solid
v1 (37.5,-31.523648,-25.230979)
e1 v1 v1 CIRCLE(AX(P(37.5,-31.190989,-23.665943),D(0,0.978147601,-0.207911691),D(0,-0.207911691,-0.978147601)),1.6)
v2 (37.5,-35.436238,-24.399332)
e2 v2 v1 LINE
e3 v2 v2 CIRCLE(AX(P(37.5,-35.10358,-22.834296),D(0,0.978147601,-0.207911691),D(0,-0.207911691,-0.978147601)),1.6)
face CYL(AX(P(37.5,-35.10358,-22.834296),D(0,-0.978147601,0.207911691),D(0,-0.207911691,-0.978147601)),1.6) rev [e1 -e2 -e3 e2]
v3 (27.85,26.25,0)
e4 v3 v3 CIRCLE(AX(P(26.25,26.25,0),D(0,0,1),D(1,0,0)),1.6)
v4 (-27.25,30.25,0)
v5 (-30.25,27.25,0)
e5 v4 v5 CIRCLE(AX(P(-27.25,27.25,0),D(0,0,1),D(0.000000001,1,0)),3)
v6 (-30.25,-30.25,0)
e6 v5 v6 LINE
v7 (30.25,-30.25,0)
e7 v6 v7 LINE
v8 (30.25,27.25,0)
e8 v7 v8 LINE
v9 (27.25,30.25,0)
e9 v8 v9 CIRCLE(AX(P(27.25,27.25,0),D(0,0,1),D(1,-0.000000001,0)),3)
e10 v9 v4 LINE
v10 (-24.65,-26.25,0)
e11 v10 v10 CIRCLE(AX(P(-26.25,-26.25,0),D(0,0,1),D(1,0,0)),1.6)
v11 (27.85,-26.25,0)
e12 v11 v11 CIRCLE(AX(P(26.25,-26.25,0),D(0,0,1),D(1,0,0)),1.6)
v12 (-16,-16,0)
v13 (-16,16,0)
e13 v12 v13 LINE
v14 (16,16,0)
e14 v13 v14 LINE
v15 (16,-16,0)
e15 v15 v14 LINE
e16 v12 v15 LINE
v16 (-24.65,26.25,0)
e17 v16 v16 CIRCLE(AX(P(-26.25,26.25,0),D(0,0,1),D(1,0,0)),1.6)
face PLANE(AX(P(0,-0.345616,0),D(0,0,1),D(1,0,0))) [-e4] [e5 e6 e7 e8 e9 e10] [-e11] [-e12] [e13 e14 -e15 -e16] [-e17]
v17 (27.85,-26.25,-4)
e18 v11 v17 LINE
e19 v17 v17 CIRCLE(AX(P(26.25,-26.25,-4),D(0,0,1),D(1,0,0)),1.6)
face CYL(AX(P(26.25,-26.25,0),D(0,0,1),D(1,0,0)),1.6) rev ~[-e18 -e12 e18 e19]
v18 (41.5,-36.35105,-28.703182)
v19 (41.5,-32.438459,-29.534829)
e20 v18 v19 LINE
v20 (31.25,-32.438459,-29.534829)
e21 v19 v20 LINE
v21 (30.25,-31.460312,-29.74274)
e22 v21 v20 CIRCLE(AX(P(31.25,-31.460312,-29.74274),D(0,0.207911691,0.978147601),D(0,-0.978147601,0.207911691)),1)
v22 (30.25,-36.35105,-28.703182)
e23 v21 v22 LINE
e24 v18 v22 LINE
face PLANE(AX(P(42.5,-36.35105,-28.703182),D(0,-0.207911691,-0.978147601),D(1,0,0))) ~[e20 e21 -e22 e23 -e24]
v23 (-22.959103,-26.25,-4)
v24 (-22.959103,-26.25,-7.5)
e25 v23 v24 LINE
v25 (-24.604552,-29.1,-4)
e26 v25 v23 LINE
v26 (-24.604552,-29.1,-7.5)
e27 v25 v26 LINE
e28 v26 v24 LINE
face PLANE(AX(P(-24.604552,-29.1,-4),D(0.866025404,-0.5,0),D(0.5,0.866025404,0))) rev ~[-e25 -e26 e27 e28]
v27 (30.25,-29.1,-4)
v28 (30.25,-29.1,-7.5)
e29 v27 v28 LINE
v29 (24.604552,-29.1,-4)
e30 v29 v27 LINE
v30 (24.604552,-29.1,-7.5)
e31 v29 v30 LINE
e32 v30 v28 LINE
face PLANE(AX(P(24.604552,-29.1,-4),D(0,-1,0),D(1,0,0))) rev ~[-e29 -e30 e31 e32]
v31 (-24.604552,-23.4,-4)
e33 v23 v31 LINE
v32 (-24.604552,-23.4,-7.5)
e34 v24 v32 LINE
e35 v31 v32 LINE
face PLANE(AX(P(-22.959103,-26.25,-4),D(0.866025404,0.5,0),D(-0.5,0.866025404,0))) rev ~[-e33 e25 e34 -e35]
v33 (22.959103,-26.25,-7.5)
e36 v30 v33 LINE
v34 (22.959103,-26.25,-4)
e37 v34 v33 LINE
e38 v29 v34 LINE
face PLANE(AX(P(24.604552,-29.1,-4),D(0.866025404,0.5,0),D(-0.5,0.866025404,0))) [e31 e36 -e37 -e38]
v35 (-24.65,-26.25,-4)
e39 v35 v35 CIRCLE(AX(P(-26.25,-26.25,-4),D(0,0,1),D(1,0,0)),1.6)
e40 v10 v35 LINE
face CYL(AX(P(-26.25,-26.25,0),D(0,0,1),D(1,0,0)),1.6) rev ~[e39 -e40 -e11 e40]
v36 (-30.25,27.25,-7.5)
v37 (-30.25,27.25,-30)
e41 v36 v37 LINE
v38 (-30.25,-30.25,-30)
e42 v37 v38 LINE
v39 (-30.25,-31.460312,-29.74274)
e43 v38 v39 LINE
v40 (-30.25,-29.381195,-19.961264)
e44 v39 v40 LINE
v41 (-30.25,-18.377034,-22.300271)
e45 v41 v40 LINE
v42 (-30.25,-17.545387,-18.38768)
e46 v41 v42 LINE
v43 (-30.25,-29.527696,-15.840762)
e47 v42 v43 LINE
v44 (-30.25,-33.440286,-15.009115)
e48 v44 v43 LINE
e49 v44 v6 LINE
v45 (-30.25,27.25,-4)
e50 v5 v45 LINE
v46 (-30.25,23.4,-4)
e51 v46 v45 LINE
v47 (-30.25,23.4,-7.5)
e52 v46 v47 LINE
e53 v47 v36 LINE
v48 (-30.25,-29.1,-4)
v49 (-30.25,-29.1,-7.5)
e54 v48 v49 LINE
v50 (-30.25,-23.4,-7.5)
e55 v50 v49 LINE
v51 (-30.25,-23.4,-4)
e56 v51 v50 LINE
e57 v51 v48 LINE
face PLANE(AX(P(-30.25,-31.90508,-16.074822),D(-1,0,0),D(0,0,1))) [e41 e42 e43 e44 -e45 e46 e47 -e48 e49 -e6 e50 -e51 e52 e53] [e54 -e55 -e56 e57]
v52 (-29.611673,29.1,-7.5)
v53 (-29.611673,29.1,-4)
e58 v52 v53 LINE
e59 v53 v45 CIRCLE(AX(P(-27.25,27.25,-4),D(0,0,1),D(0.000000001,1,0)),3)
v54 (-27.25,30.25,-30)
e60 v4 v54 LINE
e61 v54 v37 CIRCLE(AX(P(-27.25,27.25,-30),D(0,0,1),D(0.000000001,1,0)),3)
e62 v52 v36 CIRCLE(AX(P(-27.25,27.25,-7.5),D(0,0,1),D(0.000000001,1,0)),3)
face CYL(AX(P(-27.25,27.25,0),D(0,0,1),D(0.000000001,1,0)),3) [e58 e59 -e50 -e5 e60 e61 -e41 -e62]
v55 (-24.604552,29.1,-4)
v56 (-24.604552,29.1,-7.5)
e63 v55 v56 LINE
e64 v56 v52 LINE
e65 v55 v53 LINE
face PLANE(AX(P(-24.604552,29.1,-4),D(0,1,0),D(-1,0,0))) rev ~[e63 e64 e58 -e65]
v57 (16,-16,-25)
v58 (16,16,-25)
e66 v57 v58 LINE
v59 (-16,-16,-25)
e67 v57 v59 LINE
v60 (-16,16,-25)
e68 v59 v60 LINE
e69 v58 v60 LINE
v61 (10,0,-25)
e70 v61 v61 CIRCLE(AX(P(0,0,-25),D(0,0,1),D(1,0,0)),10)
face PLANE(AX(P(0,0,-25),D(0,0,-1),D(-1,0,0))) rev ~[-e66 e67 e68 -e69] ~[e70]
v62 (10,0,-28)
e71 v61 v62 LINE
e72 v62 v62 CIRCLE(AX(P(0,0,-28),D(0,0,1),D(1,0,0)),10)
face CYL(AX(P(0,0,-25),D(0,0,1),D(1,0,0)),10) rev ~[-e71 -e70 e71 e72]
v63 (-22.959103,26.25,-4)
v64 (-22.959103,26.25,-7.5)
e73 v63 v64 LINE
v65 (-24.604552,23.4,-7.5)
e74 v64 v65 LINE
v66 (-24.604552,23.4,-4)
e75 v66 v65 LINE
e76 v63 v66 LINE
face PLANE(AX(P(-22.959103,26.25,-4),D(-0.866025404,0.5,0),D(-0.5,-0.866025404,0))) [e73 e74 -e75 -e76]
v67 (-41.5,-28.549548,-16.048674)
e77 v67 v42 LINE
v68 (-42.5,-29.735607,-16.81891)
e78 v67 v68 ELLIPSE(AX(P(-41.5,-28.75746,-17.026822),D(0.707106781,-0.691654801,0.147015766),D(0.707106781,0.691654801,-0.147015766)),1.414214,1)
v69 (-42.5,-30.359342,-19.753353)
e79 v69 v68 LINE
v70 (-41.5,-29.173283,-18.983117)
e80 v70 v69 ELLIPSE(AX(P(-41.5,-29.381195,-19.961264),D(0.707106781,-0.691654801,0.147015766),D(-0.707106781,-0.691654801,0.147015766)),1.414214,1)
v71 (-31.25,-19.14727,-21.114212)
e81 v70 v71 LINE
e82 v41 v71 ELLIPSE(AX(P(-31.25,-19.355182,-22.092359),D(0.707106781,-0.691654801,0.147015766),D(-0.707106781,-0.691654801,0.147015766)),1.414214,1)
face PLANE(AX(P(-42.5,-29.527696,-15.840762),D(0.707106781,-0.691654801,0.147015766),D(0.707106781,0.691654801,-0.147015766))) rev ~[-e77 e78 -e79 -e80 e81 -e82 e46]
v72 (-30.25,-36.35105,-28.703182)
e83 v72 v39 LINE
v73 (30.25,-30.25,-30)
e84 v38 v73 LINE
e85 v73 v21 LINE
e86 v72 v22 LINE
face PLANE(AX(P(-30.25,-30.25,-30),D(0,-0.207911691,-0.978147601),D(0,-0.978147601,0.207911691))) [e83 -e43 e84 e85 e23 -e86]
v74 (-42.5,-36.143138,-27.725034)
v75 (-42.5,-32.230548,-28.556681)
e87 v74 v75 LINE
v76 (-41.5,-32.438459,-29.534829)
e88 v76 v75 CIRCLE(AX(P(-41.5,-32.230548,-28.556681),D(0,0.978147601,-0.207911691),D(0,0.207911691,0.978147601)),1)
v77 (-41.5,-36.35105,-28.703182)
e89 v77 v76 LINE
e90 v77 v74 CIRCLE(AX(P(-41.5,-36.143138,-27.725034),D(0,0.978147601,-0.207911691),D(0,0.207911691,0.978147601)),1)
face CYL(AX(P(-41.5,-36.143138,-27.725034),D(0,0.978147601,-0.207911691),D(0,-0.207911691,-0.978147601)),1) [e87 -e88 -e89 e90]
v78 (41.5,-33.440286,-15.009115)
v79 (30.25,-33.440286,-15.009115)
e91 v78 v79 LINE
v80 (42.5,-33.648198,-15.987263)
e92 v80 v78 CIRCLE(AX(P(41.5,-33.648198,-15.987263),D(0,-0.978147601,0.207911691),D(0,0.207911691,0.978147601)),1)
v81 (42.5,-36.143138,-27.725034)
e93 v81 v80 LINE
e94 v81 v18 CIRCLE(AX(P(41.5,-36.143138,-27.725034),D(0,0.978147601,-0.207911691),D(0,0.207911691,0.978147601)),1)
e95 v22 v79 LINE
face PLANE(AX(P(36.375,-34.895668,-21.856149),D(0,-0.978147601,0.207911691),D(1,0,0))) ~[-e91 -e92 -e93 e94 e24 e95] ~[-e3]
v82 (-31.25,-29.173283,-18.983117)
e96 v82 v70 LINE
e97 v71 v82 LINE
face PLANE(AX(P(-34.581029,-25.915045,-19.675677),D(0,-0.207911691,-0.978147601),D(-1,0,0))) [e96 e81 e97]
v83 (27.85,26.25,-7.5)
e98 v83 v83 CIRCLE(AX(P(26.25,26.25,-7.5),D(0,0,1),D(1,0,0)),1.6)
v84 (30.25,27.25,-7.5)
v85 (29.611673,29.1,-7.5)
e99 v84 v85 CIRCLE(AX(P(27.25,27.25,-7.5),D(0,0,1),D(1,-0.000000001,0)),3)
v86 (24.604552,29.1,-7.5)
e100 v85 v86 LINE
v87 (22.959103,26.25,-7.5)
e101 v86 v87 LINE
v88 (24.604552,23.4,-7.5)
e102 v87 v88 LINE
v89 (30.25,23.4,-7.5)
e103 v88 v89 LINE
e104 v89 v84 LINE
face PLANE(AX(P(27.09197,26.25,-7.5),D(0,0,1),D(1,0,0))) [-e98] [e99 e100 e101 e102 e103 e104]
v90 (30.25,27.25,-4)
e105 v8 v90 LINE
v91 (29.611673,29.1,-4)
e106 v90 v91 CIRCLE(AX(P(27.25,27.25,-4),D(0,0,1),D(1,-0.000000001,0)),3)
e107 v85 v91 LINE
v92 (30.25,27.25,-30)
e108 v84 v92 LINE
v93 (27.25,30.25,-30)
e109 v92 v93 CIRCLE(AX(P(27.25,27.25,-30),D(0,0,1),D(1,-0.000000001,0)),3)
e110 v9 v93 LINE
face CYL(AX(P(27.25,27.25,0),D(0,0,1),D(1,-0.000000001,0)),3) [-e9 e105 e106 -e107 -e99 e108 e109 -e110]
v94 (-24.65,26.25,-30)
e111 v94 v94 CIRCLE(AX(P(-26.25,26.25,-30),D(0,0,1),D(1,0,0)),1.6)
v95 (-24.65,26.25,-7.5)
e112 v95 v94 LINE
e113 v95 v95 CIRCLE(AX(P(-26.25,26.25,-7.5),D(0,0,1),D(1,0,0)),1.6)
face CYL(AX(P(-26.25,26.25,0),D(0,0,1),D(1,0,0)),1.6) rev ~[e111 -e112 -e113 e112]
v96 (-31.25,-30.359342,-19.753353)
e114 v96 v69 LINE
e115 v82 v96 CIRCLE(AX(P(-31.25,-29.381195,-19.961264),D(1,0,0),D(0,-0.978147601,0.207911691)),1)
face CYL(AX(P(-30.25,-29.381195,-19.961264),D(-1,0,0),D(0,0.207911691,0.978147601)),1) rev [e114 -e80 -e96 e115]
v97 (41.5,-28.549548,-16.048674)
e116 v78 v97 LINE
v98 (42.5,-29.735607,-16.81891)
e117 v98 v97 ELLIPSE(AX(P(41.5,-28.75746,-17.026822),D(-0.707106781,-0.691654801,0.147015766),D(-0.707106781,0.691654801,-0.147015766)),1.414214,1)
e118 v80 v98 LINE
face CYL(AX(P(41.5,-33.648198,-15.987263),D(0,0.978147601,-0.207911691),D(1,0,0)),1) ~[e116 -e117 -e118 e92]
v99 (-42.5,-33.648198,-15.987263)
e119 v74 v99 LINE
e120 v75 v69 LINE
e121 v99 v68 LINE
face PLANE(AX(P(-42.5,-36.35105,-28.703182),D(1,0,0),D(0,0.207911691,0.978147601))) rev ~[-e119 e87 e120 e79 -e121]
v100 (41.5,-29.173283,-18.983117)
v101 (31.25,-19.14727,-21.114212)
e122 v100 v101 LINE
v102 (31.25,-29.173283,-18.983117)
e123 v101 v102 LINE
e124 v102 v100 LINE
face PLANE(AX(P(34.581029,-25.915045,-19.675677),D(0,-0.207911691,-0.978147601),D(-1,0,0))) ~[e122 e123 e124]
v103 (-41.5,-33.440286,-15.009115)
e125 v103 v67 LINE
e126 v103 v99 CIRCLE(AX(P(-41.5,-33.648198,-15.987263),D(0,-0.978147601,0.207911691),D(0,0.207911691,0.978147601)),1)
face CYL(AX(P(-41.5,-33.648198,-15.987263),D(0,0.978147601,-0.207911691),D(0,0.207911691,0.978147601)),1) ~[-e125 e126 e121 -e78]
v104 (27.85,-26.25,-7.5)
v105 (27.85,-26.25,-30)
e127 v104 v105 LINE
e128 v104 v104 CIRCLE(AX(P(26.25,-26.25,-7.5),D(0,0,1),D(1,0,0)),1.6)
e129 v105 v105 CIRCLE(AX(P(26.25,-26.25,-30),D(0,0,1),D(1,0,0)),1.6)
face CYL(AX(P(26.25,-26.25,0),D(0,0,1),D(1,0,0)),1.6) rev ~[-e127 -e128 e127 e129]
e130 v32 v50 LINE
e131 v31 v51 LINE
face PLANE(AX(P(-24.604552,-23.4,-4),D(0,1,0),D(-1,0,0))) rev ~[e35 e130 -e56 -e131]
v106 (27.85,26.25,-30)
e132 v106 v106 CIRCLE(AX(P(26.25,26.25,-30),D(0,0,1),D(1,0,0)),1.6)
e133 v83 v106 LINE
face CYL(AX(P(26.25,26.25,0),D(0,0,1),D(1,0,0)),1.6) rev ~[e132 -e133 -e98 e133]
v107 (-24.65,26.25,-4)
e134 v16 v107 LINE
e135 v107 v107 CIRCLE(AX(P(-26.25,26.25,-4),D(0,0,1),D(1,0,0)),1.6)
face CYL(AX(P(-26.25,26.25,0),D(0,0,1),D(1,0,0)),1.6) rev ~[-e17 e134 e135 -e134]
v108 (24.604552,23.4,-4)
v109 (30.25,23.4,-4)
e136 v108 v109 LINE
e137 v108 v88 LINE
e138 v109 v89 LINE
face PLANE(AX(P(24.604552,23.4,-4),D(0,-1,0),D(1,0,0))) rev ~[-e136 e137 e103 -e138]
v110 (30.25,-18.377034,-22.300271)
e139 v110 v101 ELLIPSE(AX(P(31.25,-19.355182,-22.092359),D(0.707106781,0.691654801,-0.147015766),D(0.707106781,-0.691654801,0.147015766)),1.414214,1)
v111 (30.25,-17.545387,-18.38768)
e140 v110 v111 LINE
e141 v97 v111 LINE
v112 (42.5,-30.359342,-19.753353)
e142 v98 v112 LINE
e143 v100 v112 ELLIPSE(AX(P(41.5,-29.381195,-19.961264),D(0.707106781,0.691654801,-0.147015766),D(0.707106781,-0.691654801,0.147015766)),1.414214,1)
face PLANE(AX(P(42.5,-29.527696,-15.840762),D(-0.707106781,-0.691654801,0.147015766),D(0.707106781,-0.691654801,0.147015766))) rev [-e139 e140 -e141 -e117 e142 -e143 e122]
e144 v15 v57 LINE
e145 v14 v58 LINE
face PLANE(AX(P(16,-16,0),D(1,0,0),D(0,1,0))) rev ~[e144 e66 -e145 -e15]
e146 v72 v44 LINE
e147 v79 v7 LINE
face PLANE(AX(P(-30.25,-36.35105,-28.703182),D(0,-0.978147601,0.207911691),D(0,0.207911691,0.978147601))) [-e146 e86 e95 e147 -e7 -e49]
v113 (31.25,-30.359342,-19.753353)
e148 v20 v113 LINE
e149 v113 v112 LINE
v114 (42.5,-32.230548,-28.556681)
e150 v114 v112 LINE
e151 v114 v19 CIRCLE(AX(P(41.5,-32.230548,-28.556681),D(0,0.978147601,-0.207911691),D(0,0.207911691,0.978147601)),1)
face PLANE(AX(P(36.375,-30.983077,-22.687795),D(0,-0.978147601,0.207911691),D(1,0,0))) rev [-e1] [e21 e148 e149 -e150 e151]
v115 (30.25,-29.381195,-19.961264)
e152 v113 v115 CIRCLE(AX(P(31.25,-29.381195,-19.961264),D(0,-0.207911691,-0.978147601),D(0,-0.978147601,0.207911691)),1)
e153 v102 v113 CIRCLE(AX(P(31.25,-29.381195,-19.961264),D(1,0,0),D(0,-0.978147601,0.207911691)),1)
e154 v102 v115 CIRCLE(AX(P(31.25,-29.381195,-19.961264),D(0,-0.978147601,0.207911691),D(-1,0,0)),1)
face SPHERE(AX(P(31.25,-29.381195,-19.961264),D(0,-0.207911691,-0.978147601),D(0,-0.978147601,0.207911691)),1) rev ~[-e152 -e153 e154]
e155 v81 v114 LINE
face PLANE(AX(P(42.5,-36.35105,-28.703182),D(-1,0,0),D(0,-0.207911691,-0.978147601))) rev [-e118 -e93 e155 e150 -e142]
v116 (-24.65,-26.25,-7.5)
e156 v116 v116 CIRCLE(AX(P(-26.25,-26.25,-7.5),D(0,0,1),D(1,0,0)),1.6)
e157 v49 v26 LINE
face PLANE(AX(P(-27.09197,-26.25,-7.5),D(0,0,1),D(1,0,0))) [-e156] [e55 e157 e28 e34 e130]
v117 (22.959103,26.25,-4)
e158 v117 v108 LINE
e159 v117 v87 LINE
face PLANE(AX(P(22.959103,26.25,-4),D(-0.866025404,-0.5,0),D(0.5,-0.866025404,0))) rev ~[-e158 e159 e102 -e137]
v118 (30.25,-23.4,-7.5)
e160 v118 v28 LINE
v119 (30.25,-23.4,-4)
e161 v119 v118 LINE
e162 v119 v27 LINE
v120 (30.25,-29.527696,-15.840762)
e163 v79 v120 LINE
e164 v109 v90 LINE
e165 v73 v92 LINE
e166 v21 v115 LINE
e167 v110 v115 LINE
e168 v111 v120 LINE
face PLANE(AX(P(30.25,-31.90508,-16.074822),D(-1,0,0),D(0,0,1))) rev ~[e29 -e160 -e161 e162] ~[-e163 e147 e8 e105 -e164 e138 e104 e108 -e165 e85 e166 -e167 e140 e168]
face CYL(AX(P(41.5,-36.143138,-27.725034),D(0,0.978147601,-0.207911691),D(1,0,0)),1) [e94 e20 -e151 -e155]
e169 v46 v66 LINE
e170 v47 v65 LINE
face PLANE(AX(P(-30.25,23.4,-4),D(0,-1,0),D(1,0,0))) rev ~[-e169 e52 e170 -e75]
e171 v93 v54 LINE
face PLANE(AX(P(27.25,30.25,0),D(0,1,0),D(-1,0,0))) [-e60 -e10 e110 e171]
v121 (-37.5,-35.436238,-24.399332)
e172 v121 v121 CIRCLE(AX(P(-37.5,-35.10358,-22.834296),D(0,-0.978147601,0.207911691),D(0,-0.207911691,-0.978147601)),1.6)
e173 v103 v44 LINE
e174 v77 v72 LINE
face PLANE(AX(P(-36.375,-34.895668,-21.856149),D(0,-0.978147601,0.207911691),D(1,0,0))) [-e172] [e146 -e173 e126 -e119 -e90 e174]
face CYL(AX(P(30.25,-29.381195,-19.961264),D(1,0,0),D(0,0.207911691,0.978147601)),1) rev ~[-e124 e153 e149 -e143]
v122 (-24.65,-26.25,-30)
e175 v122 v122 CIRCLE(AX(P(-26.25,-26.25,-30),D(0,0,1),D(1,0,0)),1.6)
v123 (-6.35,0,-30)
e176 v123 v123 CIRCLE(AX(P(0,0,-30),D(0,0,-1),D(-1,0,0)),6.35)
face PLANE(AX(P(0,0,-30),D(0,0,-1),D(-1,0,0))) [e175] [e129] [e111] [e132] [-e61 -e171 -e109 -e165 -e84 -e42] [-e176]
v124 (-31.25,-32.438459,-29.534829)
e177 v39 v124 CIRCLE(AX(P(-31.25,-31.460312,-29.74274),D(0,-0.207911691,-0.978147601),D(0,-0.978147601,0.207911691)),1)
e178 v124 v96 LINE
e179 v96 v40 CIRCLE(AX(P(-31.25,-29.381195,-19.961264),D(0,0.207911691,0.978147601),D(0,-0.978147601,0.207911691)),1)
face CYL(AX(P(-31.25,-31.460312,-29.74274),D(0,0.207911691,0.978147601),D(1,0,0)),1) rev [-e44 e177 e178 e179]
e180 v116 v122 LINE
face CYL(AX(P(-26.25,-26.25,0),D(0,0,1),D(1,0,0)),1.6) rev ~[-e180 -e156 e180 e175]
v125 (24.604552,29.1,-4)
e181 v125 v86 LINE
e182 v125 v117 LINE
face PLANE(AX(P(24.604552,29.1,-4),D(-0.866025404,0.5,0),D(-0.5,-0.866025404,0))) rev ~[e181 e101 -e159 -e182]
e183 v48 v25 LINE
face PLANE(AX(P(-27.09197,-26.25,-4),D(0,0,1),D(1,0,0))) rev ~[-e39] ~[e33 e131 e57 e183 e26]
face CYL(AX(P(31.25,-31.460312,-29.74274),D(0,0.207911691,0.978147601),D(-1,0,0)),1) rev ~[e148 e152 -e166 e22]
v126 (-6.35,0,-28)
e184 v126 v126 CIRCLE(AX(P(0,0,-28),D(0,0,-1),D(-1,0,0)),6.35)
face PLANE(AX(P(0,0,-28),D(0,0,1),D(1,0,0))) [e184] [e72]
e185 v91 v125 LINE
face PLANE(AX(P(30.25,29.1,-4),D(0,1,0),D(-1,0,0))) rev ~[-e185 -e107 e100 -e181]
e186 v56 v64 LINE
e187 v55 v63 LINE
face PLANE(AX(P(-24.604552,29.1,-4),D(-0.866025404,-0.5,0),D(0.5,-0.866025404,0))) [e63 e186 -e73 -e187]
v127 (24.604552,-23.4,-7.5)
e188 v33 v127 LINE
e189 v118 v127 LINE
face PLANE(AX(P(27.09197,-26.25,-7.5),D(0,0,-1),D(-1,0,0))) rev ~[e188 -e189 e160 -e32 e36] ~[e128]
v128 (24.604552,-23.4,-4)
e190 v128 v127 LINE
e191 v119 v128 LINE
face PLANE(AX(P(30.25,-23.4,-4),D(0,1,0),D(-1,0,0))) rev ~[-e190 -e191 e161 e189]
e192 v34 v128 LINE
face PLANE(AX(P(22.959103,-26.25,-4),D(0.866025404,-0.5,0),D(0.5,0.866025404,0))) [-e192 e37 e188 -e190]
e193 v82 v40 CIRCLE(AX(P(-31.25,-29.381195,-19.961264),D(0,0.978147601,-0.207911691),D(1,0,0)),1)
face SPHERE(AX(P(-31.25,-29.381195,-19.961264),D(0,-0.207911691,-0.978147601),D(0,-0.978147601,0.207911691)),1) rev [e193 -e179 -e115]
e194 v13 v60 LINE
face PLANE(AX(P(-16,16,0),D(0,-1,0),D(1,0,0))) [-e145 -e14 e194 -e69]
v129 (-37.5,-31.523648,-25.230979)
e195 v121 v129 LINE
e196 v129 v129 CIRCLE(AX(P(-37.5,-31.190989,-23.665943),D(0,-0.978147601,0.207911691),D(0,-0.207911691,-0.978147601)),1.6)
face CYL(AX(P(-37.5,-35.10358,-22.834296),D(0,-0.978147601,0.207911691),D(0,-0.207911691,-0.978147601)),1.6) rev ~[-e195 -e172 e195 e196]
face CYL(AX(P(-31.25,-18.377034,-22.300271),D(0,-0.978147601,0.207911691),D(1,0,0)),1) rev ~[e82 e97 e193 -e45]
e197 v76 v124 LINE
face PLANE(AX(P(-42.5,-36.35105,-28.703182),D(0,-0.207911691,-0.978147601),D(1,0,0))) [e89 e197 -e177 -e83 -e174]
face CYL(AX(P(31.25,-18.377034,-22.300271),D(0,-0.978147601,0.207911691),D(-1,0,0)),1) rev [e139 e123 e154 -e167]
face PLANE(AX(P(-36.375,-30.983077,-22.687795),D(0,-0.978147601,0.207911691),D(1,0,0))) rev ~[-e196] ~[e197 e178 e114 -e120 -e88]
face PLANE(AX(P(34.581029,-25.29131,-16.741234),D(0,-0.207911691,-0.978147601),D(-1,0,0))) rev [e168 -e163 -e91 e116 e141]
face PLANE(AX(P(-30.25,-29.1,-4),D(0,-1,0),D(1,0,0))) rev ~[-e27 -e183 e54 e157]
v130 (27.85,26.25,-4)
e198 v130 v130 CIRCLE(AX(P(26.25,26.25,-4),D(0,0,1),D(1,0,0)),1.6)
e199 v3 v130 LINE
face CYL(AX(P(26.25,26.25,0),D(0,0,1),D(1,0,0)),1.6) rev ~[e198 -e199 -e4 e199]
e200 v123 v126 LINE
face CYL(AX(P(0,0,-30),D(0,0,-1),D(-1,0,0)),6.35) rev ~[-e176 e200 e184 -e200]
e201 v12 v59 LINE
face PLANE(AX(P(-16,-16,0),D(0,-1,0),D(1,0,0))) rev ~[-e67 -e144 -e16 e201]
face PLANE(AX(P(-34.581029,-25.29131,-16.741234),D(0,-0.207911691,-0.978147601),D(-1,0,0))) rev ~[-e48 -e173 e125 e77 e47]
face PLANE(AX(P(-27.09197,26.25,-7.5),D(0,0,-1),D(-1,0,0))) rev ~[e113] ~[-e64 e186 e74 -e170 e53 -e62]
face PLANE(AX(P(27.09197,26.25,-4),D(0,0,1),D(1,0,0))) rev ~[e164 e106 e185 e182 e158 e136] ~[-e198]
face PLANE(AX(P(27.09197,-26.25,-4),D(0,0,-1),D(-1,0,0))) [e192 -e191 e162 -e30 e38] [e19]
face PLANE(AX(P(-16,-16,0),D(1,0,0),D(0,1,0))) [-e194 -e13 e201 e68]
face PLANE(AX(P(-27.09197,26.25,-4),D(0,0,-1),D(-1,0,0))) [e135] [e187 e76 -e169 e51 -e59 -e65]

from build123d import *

# Parameters (mm, degrees)
SKETCH_1_R          = 1.6
SKETCH_1_W          = 32
SKETCH_1_H          = 32
EXTRUDE_1_DEPTH     = 30
SKETCH_3_W          = 32
SKETCH_3_H          = 32
EXTRUDE_2_DEPTH     = 5
SKETCH_4_R          = 6.35
CUT_EXTRUDE_1_DEPTH = 53.250598083
SKETCH_5_R          = 10
CUT_EXTRUDE_2_DEPTH = 3
CUT_EXTRUDE_3_DEPTH = 3.5
EXTRUDE_3_DEPTH     = 60.5
SKETCH_14_W         = 12.25
SKETCH_14_H         = 14
SKETCH_14_R         = 1.6
EXTRUDE_4_DEPTH     = 4
EXTRUDE_5_DEPTH     = 3
FILLET_1_R          = 1


with BuildPart() as part:
    # ｽｹｯﾁ1 → ﾎﾞｽ - 押し出し1 (new body)
    with BuildSketch(Plane.XY):
        with BuildLine():
            Line((30.25, -30.25), (30.25, 27.25))
            ThreePointArc((30.25, 27.25), (29.371320344, 29.371320344), (27.25, 30.25))
            Line((27.25, 30.25), (-27.25, 30.25))
            ThreePointArc((-27.25, 30.25), (-29.371320344, 29.371320344), (-30.25, 27.25))
            Line((-30.25, 27.25), (-30.25, -30.25))
            Line((-30.25, -30.25), (30.25, -30.25))
        make_face()
        with Locations((-26.25, 26.25)):
            Circle(SKETCH_1_R, mode=Mode.SUBTRACT)
        with Locations((-26.25, -26.25)):
            Circle(SKETCH_1_R, mode=Mode.SUBTRACT)
        with Locations((26.25, -26.25)):
            Circle(SKETCH_1_R, mode=Mode.SUBTRACT)
        with Locations((26.25, 26.25)):
            Circle(SKETCH_1_R, mode=Mode.SUBTRACT)
        Rectangle(SKETCH_1_W, SKETCH_1_H, mode=Mode.SUBTRACT)
    extrude(amount=-EXTRUDE_1_DEPTH)

    # ｽｹｯﾁ3 → ﾎﾞｽ - 押し出し2 (add)
    with BuildSketch(Plane(origin=(0, 0, -30), x_dir=(-1, 0, 0), z_dir=(0, 0, -1))):
        Rectangle(SKETCH_3_W, SKETCH_3_H)
    extrude(amount=-EXTRUDE_2_DEPTH)

    # ｽｹｯﾁ4 → ｶｯﾄ - 押し出し1 (cut, through all)
    with BuildSketch(Plane(origin=(0, 0, -30), x_dir=(-1, 0, 0), z_dir=(0, 0, -1))):
        Circle(SKETCH_4_R)
    extrude(amount=-CUT_EXTRUDE_1_DEPTH, mode=Mode.SUBTRACT)

    # ｽｹｯﾁ5 → ｶｯﾄ - 押し出し2 (cut)
    with BuildSketch(Plane.XY.offset(-25)):
        Circle(SKETCH_5_R)
    extrude(amount=-CUT_EXTRUDE_2_DEPTH, mode=Mode.SUBTRACT)

    # ｽｹｯﾁ10 → ｶｯﾄ - 押し出し3 (cut)
    with BuildSketch(Plane.XY.offset(-4)):
        Polygon((27.895448267, -23.4), (30.25, -23.4), (30.25, -29.1), (27.895448267, -29.1), (24.604551733, -29.1), (22.959103466, -26.25), (24.604551733, -23.4), align=None)
        Polygon((-30.25, -29.1), (-27.895448267, -29.1), (-24.604551733, -29.1), (-22.959103466, -26.25), (-24.604551733, -23.4), (-27.895448267, -23.4), (-30.25, -23.4), align=None)
        Polygon((-27.895448267, 23.4), (-30.25, 23.4), (-30.25, 29.1), (-27.895448267, 29.1), (-24.604551733, 29.1), (-22.959103466, 26.25), (-24.604551733, 23.4), align=None)
        Polygon((30.25, 29.1), (27.895448267, 29.1), (24.604551733, 29.1), (22.959103466, 26.25), (24.604551733, 23.4), (27.895448267, 23.4), (30.25, 23.4), align=None)
    extrude(amount=-CUT_EXTRUDE_3_DEPTH, mode=Mode.SUBTRACT)

    # ｽｹｯﾁ13 → ﾎﾞｽ - 押し出し3 (add)
    with BuildSketch(Plane.ZY.offset(30.25)):
        Polygon((-30, -30.25), (-28.703181865, -36.351049646), (0, -30.25), align=None)
    extrude(amount=-EXTRUDE_3_DEPTH)

    # ｽｹｯﾁ14 → ﾎﾞｽ - 押し出し4 (add)
    with BuildSketch(Plane(origin=(0, -28.942375047, 6.151891727), x_dir=(1, 0, 0), z_dir=(0, -0.9781476007338057, 0.20791169081775968))):
        with Locations((-36.375, -28.633756669)):
            Rectangle(SKETCH_14_W, SKETCH_14_H)
        with Locations(Location((-37.5, -29.633756669, 0), (0, 0, 270))):
            Circle(SKETCH_14_R, mode=Mode.SUBTRACT)
    extrude_4 = extrude(amount=-EXTRUDE_4_DEPTH)

    # ｽｹｯﾁ16 → ﾎﾞｽ - 押し出し5 (add)
    with BuildSketch(Plane(origin=(0, -4.497910928, -21.161007181), x_dir=(1, 0, 0), z_dir=(0, 0.20791169081775962, 0.9781476007338056))):
        Polygon((-42.5, -25.588964922), (-30.25, -13.338964922), (-30.25, -25.588964922), align=None)
    extrude_5 = extrude(amount=-EXTRUDE_5_DEPTH)

    # ﾐﾗｰ1: ﾎﾞｽ - 押し出し4, ﾎﾞｽ - 押し出し5 across plane
    add(extrude_4.mirror(Plane(origin=(0, 0, 0), x_dir=(0, 0, 1), z_dir=(1, 0, 0))))
    add(extrude_5.mirror(Plane(origin=(0, 0, 0), x_dir=(0, 0, 1), z_dir=(1, 0, 0))))

    # ﾌｨﾚｯﾄ1
    fillet_1_edges = [part.edges().sort_by_distance(p)[0] for p in [
        (-30.25, -31.294944944, -24.155016824),
        (-42.5, -34.394754445, -29.119005246),
        (-42.5, -31.483990773, -15.424938836),
        (-36.375, -30.151430644, -18.77520502),
        (-30.25, -24.16027659, -20.048664126),
        (30.25, -31.294944944, -24.155016824),
        (42.5, -31.483990773, -15.424938836),
        (42.5, -34.394754445, -29.119005246),
        (36.375, -30.151430644, -18.77520502),
        (30.25, -24.16027659, -20.048664126),
    ]]
    fillet(fillet_1_edges, radius=FILLET_1_R)


solid = part.part
